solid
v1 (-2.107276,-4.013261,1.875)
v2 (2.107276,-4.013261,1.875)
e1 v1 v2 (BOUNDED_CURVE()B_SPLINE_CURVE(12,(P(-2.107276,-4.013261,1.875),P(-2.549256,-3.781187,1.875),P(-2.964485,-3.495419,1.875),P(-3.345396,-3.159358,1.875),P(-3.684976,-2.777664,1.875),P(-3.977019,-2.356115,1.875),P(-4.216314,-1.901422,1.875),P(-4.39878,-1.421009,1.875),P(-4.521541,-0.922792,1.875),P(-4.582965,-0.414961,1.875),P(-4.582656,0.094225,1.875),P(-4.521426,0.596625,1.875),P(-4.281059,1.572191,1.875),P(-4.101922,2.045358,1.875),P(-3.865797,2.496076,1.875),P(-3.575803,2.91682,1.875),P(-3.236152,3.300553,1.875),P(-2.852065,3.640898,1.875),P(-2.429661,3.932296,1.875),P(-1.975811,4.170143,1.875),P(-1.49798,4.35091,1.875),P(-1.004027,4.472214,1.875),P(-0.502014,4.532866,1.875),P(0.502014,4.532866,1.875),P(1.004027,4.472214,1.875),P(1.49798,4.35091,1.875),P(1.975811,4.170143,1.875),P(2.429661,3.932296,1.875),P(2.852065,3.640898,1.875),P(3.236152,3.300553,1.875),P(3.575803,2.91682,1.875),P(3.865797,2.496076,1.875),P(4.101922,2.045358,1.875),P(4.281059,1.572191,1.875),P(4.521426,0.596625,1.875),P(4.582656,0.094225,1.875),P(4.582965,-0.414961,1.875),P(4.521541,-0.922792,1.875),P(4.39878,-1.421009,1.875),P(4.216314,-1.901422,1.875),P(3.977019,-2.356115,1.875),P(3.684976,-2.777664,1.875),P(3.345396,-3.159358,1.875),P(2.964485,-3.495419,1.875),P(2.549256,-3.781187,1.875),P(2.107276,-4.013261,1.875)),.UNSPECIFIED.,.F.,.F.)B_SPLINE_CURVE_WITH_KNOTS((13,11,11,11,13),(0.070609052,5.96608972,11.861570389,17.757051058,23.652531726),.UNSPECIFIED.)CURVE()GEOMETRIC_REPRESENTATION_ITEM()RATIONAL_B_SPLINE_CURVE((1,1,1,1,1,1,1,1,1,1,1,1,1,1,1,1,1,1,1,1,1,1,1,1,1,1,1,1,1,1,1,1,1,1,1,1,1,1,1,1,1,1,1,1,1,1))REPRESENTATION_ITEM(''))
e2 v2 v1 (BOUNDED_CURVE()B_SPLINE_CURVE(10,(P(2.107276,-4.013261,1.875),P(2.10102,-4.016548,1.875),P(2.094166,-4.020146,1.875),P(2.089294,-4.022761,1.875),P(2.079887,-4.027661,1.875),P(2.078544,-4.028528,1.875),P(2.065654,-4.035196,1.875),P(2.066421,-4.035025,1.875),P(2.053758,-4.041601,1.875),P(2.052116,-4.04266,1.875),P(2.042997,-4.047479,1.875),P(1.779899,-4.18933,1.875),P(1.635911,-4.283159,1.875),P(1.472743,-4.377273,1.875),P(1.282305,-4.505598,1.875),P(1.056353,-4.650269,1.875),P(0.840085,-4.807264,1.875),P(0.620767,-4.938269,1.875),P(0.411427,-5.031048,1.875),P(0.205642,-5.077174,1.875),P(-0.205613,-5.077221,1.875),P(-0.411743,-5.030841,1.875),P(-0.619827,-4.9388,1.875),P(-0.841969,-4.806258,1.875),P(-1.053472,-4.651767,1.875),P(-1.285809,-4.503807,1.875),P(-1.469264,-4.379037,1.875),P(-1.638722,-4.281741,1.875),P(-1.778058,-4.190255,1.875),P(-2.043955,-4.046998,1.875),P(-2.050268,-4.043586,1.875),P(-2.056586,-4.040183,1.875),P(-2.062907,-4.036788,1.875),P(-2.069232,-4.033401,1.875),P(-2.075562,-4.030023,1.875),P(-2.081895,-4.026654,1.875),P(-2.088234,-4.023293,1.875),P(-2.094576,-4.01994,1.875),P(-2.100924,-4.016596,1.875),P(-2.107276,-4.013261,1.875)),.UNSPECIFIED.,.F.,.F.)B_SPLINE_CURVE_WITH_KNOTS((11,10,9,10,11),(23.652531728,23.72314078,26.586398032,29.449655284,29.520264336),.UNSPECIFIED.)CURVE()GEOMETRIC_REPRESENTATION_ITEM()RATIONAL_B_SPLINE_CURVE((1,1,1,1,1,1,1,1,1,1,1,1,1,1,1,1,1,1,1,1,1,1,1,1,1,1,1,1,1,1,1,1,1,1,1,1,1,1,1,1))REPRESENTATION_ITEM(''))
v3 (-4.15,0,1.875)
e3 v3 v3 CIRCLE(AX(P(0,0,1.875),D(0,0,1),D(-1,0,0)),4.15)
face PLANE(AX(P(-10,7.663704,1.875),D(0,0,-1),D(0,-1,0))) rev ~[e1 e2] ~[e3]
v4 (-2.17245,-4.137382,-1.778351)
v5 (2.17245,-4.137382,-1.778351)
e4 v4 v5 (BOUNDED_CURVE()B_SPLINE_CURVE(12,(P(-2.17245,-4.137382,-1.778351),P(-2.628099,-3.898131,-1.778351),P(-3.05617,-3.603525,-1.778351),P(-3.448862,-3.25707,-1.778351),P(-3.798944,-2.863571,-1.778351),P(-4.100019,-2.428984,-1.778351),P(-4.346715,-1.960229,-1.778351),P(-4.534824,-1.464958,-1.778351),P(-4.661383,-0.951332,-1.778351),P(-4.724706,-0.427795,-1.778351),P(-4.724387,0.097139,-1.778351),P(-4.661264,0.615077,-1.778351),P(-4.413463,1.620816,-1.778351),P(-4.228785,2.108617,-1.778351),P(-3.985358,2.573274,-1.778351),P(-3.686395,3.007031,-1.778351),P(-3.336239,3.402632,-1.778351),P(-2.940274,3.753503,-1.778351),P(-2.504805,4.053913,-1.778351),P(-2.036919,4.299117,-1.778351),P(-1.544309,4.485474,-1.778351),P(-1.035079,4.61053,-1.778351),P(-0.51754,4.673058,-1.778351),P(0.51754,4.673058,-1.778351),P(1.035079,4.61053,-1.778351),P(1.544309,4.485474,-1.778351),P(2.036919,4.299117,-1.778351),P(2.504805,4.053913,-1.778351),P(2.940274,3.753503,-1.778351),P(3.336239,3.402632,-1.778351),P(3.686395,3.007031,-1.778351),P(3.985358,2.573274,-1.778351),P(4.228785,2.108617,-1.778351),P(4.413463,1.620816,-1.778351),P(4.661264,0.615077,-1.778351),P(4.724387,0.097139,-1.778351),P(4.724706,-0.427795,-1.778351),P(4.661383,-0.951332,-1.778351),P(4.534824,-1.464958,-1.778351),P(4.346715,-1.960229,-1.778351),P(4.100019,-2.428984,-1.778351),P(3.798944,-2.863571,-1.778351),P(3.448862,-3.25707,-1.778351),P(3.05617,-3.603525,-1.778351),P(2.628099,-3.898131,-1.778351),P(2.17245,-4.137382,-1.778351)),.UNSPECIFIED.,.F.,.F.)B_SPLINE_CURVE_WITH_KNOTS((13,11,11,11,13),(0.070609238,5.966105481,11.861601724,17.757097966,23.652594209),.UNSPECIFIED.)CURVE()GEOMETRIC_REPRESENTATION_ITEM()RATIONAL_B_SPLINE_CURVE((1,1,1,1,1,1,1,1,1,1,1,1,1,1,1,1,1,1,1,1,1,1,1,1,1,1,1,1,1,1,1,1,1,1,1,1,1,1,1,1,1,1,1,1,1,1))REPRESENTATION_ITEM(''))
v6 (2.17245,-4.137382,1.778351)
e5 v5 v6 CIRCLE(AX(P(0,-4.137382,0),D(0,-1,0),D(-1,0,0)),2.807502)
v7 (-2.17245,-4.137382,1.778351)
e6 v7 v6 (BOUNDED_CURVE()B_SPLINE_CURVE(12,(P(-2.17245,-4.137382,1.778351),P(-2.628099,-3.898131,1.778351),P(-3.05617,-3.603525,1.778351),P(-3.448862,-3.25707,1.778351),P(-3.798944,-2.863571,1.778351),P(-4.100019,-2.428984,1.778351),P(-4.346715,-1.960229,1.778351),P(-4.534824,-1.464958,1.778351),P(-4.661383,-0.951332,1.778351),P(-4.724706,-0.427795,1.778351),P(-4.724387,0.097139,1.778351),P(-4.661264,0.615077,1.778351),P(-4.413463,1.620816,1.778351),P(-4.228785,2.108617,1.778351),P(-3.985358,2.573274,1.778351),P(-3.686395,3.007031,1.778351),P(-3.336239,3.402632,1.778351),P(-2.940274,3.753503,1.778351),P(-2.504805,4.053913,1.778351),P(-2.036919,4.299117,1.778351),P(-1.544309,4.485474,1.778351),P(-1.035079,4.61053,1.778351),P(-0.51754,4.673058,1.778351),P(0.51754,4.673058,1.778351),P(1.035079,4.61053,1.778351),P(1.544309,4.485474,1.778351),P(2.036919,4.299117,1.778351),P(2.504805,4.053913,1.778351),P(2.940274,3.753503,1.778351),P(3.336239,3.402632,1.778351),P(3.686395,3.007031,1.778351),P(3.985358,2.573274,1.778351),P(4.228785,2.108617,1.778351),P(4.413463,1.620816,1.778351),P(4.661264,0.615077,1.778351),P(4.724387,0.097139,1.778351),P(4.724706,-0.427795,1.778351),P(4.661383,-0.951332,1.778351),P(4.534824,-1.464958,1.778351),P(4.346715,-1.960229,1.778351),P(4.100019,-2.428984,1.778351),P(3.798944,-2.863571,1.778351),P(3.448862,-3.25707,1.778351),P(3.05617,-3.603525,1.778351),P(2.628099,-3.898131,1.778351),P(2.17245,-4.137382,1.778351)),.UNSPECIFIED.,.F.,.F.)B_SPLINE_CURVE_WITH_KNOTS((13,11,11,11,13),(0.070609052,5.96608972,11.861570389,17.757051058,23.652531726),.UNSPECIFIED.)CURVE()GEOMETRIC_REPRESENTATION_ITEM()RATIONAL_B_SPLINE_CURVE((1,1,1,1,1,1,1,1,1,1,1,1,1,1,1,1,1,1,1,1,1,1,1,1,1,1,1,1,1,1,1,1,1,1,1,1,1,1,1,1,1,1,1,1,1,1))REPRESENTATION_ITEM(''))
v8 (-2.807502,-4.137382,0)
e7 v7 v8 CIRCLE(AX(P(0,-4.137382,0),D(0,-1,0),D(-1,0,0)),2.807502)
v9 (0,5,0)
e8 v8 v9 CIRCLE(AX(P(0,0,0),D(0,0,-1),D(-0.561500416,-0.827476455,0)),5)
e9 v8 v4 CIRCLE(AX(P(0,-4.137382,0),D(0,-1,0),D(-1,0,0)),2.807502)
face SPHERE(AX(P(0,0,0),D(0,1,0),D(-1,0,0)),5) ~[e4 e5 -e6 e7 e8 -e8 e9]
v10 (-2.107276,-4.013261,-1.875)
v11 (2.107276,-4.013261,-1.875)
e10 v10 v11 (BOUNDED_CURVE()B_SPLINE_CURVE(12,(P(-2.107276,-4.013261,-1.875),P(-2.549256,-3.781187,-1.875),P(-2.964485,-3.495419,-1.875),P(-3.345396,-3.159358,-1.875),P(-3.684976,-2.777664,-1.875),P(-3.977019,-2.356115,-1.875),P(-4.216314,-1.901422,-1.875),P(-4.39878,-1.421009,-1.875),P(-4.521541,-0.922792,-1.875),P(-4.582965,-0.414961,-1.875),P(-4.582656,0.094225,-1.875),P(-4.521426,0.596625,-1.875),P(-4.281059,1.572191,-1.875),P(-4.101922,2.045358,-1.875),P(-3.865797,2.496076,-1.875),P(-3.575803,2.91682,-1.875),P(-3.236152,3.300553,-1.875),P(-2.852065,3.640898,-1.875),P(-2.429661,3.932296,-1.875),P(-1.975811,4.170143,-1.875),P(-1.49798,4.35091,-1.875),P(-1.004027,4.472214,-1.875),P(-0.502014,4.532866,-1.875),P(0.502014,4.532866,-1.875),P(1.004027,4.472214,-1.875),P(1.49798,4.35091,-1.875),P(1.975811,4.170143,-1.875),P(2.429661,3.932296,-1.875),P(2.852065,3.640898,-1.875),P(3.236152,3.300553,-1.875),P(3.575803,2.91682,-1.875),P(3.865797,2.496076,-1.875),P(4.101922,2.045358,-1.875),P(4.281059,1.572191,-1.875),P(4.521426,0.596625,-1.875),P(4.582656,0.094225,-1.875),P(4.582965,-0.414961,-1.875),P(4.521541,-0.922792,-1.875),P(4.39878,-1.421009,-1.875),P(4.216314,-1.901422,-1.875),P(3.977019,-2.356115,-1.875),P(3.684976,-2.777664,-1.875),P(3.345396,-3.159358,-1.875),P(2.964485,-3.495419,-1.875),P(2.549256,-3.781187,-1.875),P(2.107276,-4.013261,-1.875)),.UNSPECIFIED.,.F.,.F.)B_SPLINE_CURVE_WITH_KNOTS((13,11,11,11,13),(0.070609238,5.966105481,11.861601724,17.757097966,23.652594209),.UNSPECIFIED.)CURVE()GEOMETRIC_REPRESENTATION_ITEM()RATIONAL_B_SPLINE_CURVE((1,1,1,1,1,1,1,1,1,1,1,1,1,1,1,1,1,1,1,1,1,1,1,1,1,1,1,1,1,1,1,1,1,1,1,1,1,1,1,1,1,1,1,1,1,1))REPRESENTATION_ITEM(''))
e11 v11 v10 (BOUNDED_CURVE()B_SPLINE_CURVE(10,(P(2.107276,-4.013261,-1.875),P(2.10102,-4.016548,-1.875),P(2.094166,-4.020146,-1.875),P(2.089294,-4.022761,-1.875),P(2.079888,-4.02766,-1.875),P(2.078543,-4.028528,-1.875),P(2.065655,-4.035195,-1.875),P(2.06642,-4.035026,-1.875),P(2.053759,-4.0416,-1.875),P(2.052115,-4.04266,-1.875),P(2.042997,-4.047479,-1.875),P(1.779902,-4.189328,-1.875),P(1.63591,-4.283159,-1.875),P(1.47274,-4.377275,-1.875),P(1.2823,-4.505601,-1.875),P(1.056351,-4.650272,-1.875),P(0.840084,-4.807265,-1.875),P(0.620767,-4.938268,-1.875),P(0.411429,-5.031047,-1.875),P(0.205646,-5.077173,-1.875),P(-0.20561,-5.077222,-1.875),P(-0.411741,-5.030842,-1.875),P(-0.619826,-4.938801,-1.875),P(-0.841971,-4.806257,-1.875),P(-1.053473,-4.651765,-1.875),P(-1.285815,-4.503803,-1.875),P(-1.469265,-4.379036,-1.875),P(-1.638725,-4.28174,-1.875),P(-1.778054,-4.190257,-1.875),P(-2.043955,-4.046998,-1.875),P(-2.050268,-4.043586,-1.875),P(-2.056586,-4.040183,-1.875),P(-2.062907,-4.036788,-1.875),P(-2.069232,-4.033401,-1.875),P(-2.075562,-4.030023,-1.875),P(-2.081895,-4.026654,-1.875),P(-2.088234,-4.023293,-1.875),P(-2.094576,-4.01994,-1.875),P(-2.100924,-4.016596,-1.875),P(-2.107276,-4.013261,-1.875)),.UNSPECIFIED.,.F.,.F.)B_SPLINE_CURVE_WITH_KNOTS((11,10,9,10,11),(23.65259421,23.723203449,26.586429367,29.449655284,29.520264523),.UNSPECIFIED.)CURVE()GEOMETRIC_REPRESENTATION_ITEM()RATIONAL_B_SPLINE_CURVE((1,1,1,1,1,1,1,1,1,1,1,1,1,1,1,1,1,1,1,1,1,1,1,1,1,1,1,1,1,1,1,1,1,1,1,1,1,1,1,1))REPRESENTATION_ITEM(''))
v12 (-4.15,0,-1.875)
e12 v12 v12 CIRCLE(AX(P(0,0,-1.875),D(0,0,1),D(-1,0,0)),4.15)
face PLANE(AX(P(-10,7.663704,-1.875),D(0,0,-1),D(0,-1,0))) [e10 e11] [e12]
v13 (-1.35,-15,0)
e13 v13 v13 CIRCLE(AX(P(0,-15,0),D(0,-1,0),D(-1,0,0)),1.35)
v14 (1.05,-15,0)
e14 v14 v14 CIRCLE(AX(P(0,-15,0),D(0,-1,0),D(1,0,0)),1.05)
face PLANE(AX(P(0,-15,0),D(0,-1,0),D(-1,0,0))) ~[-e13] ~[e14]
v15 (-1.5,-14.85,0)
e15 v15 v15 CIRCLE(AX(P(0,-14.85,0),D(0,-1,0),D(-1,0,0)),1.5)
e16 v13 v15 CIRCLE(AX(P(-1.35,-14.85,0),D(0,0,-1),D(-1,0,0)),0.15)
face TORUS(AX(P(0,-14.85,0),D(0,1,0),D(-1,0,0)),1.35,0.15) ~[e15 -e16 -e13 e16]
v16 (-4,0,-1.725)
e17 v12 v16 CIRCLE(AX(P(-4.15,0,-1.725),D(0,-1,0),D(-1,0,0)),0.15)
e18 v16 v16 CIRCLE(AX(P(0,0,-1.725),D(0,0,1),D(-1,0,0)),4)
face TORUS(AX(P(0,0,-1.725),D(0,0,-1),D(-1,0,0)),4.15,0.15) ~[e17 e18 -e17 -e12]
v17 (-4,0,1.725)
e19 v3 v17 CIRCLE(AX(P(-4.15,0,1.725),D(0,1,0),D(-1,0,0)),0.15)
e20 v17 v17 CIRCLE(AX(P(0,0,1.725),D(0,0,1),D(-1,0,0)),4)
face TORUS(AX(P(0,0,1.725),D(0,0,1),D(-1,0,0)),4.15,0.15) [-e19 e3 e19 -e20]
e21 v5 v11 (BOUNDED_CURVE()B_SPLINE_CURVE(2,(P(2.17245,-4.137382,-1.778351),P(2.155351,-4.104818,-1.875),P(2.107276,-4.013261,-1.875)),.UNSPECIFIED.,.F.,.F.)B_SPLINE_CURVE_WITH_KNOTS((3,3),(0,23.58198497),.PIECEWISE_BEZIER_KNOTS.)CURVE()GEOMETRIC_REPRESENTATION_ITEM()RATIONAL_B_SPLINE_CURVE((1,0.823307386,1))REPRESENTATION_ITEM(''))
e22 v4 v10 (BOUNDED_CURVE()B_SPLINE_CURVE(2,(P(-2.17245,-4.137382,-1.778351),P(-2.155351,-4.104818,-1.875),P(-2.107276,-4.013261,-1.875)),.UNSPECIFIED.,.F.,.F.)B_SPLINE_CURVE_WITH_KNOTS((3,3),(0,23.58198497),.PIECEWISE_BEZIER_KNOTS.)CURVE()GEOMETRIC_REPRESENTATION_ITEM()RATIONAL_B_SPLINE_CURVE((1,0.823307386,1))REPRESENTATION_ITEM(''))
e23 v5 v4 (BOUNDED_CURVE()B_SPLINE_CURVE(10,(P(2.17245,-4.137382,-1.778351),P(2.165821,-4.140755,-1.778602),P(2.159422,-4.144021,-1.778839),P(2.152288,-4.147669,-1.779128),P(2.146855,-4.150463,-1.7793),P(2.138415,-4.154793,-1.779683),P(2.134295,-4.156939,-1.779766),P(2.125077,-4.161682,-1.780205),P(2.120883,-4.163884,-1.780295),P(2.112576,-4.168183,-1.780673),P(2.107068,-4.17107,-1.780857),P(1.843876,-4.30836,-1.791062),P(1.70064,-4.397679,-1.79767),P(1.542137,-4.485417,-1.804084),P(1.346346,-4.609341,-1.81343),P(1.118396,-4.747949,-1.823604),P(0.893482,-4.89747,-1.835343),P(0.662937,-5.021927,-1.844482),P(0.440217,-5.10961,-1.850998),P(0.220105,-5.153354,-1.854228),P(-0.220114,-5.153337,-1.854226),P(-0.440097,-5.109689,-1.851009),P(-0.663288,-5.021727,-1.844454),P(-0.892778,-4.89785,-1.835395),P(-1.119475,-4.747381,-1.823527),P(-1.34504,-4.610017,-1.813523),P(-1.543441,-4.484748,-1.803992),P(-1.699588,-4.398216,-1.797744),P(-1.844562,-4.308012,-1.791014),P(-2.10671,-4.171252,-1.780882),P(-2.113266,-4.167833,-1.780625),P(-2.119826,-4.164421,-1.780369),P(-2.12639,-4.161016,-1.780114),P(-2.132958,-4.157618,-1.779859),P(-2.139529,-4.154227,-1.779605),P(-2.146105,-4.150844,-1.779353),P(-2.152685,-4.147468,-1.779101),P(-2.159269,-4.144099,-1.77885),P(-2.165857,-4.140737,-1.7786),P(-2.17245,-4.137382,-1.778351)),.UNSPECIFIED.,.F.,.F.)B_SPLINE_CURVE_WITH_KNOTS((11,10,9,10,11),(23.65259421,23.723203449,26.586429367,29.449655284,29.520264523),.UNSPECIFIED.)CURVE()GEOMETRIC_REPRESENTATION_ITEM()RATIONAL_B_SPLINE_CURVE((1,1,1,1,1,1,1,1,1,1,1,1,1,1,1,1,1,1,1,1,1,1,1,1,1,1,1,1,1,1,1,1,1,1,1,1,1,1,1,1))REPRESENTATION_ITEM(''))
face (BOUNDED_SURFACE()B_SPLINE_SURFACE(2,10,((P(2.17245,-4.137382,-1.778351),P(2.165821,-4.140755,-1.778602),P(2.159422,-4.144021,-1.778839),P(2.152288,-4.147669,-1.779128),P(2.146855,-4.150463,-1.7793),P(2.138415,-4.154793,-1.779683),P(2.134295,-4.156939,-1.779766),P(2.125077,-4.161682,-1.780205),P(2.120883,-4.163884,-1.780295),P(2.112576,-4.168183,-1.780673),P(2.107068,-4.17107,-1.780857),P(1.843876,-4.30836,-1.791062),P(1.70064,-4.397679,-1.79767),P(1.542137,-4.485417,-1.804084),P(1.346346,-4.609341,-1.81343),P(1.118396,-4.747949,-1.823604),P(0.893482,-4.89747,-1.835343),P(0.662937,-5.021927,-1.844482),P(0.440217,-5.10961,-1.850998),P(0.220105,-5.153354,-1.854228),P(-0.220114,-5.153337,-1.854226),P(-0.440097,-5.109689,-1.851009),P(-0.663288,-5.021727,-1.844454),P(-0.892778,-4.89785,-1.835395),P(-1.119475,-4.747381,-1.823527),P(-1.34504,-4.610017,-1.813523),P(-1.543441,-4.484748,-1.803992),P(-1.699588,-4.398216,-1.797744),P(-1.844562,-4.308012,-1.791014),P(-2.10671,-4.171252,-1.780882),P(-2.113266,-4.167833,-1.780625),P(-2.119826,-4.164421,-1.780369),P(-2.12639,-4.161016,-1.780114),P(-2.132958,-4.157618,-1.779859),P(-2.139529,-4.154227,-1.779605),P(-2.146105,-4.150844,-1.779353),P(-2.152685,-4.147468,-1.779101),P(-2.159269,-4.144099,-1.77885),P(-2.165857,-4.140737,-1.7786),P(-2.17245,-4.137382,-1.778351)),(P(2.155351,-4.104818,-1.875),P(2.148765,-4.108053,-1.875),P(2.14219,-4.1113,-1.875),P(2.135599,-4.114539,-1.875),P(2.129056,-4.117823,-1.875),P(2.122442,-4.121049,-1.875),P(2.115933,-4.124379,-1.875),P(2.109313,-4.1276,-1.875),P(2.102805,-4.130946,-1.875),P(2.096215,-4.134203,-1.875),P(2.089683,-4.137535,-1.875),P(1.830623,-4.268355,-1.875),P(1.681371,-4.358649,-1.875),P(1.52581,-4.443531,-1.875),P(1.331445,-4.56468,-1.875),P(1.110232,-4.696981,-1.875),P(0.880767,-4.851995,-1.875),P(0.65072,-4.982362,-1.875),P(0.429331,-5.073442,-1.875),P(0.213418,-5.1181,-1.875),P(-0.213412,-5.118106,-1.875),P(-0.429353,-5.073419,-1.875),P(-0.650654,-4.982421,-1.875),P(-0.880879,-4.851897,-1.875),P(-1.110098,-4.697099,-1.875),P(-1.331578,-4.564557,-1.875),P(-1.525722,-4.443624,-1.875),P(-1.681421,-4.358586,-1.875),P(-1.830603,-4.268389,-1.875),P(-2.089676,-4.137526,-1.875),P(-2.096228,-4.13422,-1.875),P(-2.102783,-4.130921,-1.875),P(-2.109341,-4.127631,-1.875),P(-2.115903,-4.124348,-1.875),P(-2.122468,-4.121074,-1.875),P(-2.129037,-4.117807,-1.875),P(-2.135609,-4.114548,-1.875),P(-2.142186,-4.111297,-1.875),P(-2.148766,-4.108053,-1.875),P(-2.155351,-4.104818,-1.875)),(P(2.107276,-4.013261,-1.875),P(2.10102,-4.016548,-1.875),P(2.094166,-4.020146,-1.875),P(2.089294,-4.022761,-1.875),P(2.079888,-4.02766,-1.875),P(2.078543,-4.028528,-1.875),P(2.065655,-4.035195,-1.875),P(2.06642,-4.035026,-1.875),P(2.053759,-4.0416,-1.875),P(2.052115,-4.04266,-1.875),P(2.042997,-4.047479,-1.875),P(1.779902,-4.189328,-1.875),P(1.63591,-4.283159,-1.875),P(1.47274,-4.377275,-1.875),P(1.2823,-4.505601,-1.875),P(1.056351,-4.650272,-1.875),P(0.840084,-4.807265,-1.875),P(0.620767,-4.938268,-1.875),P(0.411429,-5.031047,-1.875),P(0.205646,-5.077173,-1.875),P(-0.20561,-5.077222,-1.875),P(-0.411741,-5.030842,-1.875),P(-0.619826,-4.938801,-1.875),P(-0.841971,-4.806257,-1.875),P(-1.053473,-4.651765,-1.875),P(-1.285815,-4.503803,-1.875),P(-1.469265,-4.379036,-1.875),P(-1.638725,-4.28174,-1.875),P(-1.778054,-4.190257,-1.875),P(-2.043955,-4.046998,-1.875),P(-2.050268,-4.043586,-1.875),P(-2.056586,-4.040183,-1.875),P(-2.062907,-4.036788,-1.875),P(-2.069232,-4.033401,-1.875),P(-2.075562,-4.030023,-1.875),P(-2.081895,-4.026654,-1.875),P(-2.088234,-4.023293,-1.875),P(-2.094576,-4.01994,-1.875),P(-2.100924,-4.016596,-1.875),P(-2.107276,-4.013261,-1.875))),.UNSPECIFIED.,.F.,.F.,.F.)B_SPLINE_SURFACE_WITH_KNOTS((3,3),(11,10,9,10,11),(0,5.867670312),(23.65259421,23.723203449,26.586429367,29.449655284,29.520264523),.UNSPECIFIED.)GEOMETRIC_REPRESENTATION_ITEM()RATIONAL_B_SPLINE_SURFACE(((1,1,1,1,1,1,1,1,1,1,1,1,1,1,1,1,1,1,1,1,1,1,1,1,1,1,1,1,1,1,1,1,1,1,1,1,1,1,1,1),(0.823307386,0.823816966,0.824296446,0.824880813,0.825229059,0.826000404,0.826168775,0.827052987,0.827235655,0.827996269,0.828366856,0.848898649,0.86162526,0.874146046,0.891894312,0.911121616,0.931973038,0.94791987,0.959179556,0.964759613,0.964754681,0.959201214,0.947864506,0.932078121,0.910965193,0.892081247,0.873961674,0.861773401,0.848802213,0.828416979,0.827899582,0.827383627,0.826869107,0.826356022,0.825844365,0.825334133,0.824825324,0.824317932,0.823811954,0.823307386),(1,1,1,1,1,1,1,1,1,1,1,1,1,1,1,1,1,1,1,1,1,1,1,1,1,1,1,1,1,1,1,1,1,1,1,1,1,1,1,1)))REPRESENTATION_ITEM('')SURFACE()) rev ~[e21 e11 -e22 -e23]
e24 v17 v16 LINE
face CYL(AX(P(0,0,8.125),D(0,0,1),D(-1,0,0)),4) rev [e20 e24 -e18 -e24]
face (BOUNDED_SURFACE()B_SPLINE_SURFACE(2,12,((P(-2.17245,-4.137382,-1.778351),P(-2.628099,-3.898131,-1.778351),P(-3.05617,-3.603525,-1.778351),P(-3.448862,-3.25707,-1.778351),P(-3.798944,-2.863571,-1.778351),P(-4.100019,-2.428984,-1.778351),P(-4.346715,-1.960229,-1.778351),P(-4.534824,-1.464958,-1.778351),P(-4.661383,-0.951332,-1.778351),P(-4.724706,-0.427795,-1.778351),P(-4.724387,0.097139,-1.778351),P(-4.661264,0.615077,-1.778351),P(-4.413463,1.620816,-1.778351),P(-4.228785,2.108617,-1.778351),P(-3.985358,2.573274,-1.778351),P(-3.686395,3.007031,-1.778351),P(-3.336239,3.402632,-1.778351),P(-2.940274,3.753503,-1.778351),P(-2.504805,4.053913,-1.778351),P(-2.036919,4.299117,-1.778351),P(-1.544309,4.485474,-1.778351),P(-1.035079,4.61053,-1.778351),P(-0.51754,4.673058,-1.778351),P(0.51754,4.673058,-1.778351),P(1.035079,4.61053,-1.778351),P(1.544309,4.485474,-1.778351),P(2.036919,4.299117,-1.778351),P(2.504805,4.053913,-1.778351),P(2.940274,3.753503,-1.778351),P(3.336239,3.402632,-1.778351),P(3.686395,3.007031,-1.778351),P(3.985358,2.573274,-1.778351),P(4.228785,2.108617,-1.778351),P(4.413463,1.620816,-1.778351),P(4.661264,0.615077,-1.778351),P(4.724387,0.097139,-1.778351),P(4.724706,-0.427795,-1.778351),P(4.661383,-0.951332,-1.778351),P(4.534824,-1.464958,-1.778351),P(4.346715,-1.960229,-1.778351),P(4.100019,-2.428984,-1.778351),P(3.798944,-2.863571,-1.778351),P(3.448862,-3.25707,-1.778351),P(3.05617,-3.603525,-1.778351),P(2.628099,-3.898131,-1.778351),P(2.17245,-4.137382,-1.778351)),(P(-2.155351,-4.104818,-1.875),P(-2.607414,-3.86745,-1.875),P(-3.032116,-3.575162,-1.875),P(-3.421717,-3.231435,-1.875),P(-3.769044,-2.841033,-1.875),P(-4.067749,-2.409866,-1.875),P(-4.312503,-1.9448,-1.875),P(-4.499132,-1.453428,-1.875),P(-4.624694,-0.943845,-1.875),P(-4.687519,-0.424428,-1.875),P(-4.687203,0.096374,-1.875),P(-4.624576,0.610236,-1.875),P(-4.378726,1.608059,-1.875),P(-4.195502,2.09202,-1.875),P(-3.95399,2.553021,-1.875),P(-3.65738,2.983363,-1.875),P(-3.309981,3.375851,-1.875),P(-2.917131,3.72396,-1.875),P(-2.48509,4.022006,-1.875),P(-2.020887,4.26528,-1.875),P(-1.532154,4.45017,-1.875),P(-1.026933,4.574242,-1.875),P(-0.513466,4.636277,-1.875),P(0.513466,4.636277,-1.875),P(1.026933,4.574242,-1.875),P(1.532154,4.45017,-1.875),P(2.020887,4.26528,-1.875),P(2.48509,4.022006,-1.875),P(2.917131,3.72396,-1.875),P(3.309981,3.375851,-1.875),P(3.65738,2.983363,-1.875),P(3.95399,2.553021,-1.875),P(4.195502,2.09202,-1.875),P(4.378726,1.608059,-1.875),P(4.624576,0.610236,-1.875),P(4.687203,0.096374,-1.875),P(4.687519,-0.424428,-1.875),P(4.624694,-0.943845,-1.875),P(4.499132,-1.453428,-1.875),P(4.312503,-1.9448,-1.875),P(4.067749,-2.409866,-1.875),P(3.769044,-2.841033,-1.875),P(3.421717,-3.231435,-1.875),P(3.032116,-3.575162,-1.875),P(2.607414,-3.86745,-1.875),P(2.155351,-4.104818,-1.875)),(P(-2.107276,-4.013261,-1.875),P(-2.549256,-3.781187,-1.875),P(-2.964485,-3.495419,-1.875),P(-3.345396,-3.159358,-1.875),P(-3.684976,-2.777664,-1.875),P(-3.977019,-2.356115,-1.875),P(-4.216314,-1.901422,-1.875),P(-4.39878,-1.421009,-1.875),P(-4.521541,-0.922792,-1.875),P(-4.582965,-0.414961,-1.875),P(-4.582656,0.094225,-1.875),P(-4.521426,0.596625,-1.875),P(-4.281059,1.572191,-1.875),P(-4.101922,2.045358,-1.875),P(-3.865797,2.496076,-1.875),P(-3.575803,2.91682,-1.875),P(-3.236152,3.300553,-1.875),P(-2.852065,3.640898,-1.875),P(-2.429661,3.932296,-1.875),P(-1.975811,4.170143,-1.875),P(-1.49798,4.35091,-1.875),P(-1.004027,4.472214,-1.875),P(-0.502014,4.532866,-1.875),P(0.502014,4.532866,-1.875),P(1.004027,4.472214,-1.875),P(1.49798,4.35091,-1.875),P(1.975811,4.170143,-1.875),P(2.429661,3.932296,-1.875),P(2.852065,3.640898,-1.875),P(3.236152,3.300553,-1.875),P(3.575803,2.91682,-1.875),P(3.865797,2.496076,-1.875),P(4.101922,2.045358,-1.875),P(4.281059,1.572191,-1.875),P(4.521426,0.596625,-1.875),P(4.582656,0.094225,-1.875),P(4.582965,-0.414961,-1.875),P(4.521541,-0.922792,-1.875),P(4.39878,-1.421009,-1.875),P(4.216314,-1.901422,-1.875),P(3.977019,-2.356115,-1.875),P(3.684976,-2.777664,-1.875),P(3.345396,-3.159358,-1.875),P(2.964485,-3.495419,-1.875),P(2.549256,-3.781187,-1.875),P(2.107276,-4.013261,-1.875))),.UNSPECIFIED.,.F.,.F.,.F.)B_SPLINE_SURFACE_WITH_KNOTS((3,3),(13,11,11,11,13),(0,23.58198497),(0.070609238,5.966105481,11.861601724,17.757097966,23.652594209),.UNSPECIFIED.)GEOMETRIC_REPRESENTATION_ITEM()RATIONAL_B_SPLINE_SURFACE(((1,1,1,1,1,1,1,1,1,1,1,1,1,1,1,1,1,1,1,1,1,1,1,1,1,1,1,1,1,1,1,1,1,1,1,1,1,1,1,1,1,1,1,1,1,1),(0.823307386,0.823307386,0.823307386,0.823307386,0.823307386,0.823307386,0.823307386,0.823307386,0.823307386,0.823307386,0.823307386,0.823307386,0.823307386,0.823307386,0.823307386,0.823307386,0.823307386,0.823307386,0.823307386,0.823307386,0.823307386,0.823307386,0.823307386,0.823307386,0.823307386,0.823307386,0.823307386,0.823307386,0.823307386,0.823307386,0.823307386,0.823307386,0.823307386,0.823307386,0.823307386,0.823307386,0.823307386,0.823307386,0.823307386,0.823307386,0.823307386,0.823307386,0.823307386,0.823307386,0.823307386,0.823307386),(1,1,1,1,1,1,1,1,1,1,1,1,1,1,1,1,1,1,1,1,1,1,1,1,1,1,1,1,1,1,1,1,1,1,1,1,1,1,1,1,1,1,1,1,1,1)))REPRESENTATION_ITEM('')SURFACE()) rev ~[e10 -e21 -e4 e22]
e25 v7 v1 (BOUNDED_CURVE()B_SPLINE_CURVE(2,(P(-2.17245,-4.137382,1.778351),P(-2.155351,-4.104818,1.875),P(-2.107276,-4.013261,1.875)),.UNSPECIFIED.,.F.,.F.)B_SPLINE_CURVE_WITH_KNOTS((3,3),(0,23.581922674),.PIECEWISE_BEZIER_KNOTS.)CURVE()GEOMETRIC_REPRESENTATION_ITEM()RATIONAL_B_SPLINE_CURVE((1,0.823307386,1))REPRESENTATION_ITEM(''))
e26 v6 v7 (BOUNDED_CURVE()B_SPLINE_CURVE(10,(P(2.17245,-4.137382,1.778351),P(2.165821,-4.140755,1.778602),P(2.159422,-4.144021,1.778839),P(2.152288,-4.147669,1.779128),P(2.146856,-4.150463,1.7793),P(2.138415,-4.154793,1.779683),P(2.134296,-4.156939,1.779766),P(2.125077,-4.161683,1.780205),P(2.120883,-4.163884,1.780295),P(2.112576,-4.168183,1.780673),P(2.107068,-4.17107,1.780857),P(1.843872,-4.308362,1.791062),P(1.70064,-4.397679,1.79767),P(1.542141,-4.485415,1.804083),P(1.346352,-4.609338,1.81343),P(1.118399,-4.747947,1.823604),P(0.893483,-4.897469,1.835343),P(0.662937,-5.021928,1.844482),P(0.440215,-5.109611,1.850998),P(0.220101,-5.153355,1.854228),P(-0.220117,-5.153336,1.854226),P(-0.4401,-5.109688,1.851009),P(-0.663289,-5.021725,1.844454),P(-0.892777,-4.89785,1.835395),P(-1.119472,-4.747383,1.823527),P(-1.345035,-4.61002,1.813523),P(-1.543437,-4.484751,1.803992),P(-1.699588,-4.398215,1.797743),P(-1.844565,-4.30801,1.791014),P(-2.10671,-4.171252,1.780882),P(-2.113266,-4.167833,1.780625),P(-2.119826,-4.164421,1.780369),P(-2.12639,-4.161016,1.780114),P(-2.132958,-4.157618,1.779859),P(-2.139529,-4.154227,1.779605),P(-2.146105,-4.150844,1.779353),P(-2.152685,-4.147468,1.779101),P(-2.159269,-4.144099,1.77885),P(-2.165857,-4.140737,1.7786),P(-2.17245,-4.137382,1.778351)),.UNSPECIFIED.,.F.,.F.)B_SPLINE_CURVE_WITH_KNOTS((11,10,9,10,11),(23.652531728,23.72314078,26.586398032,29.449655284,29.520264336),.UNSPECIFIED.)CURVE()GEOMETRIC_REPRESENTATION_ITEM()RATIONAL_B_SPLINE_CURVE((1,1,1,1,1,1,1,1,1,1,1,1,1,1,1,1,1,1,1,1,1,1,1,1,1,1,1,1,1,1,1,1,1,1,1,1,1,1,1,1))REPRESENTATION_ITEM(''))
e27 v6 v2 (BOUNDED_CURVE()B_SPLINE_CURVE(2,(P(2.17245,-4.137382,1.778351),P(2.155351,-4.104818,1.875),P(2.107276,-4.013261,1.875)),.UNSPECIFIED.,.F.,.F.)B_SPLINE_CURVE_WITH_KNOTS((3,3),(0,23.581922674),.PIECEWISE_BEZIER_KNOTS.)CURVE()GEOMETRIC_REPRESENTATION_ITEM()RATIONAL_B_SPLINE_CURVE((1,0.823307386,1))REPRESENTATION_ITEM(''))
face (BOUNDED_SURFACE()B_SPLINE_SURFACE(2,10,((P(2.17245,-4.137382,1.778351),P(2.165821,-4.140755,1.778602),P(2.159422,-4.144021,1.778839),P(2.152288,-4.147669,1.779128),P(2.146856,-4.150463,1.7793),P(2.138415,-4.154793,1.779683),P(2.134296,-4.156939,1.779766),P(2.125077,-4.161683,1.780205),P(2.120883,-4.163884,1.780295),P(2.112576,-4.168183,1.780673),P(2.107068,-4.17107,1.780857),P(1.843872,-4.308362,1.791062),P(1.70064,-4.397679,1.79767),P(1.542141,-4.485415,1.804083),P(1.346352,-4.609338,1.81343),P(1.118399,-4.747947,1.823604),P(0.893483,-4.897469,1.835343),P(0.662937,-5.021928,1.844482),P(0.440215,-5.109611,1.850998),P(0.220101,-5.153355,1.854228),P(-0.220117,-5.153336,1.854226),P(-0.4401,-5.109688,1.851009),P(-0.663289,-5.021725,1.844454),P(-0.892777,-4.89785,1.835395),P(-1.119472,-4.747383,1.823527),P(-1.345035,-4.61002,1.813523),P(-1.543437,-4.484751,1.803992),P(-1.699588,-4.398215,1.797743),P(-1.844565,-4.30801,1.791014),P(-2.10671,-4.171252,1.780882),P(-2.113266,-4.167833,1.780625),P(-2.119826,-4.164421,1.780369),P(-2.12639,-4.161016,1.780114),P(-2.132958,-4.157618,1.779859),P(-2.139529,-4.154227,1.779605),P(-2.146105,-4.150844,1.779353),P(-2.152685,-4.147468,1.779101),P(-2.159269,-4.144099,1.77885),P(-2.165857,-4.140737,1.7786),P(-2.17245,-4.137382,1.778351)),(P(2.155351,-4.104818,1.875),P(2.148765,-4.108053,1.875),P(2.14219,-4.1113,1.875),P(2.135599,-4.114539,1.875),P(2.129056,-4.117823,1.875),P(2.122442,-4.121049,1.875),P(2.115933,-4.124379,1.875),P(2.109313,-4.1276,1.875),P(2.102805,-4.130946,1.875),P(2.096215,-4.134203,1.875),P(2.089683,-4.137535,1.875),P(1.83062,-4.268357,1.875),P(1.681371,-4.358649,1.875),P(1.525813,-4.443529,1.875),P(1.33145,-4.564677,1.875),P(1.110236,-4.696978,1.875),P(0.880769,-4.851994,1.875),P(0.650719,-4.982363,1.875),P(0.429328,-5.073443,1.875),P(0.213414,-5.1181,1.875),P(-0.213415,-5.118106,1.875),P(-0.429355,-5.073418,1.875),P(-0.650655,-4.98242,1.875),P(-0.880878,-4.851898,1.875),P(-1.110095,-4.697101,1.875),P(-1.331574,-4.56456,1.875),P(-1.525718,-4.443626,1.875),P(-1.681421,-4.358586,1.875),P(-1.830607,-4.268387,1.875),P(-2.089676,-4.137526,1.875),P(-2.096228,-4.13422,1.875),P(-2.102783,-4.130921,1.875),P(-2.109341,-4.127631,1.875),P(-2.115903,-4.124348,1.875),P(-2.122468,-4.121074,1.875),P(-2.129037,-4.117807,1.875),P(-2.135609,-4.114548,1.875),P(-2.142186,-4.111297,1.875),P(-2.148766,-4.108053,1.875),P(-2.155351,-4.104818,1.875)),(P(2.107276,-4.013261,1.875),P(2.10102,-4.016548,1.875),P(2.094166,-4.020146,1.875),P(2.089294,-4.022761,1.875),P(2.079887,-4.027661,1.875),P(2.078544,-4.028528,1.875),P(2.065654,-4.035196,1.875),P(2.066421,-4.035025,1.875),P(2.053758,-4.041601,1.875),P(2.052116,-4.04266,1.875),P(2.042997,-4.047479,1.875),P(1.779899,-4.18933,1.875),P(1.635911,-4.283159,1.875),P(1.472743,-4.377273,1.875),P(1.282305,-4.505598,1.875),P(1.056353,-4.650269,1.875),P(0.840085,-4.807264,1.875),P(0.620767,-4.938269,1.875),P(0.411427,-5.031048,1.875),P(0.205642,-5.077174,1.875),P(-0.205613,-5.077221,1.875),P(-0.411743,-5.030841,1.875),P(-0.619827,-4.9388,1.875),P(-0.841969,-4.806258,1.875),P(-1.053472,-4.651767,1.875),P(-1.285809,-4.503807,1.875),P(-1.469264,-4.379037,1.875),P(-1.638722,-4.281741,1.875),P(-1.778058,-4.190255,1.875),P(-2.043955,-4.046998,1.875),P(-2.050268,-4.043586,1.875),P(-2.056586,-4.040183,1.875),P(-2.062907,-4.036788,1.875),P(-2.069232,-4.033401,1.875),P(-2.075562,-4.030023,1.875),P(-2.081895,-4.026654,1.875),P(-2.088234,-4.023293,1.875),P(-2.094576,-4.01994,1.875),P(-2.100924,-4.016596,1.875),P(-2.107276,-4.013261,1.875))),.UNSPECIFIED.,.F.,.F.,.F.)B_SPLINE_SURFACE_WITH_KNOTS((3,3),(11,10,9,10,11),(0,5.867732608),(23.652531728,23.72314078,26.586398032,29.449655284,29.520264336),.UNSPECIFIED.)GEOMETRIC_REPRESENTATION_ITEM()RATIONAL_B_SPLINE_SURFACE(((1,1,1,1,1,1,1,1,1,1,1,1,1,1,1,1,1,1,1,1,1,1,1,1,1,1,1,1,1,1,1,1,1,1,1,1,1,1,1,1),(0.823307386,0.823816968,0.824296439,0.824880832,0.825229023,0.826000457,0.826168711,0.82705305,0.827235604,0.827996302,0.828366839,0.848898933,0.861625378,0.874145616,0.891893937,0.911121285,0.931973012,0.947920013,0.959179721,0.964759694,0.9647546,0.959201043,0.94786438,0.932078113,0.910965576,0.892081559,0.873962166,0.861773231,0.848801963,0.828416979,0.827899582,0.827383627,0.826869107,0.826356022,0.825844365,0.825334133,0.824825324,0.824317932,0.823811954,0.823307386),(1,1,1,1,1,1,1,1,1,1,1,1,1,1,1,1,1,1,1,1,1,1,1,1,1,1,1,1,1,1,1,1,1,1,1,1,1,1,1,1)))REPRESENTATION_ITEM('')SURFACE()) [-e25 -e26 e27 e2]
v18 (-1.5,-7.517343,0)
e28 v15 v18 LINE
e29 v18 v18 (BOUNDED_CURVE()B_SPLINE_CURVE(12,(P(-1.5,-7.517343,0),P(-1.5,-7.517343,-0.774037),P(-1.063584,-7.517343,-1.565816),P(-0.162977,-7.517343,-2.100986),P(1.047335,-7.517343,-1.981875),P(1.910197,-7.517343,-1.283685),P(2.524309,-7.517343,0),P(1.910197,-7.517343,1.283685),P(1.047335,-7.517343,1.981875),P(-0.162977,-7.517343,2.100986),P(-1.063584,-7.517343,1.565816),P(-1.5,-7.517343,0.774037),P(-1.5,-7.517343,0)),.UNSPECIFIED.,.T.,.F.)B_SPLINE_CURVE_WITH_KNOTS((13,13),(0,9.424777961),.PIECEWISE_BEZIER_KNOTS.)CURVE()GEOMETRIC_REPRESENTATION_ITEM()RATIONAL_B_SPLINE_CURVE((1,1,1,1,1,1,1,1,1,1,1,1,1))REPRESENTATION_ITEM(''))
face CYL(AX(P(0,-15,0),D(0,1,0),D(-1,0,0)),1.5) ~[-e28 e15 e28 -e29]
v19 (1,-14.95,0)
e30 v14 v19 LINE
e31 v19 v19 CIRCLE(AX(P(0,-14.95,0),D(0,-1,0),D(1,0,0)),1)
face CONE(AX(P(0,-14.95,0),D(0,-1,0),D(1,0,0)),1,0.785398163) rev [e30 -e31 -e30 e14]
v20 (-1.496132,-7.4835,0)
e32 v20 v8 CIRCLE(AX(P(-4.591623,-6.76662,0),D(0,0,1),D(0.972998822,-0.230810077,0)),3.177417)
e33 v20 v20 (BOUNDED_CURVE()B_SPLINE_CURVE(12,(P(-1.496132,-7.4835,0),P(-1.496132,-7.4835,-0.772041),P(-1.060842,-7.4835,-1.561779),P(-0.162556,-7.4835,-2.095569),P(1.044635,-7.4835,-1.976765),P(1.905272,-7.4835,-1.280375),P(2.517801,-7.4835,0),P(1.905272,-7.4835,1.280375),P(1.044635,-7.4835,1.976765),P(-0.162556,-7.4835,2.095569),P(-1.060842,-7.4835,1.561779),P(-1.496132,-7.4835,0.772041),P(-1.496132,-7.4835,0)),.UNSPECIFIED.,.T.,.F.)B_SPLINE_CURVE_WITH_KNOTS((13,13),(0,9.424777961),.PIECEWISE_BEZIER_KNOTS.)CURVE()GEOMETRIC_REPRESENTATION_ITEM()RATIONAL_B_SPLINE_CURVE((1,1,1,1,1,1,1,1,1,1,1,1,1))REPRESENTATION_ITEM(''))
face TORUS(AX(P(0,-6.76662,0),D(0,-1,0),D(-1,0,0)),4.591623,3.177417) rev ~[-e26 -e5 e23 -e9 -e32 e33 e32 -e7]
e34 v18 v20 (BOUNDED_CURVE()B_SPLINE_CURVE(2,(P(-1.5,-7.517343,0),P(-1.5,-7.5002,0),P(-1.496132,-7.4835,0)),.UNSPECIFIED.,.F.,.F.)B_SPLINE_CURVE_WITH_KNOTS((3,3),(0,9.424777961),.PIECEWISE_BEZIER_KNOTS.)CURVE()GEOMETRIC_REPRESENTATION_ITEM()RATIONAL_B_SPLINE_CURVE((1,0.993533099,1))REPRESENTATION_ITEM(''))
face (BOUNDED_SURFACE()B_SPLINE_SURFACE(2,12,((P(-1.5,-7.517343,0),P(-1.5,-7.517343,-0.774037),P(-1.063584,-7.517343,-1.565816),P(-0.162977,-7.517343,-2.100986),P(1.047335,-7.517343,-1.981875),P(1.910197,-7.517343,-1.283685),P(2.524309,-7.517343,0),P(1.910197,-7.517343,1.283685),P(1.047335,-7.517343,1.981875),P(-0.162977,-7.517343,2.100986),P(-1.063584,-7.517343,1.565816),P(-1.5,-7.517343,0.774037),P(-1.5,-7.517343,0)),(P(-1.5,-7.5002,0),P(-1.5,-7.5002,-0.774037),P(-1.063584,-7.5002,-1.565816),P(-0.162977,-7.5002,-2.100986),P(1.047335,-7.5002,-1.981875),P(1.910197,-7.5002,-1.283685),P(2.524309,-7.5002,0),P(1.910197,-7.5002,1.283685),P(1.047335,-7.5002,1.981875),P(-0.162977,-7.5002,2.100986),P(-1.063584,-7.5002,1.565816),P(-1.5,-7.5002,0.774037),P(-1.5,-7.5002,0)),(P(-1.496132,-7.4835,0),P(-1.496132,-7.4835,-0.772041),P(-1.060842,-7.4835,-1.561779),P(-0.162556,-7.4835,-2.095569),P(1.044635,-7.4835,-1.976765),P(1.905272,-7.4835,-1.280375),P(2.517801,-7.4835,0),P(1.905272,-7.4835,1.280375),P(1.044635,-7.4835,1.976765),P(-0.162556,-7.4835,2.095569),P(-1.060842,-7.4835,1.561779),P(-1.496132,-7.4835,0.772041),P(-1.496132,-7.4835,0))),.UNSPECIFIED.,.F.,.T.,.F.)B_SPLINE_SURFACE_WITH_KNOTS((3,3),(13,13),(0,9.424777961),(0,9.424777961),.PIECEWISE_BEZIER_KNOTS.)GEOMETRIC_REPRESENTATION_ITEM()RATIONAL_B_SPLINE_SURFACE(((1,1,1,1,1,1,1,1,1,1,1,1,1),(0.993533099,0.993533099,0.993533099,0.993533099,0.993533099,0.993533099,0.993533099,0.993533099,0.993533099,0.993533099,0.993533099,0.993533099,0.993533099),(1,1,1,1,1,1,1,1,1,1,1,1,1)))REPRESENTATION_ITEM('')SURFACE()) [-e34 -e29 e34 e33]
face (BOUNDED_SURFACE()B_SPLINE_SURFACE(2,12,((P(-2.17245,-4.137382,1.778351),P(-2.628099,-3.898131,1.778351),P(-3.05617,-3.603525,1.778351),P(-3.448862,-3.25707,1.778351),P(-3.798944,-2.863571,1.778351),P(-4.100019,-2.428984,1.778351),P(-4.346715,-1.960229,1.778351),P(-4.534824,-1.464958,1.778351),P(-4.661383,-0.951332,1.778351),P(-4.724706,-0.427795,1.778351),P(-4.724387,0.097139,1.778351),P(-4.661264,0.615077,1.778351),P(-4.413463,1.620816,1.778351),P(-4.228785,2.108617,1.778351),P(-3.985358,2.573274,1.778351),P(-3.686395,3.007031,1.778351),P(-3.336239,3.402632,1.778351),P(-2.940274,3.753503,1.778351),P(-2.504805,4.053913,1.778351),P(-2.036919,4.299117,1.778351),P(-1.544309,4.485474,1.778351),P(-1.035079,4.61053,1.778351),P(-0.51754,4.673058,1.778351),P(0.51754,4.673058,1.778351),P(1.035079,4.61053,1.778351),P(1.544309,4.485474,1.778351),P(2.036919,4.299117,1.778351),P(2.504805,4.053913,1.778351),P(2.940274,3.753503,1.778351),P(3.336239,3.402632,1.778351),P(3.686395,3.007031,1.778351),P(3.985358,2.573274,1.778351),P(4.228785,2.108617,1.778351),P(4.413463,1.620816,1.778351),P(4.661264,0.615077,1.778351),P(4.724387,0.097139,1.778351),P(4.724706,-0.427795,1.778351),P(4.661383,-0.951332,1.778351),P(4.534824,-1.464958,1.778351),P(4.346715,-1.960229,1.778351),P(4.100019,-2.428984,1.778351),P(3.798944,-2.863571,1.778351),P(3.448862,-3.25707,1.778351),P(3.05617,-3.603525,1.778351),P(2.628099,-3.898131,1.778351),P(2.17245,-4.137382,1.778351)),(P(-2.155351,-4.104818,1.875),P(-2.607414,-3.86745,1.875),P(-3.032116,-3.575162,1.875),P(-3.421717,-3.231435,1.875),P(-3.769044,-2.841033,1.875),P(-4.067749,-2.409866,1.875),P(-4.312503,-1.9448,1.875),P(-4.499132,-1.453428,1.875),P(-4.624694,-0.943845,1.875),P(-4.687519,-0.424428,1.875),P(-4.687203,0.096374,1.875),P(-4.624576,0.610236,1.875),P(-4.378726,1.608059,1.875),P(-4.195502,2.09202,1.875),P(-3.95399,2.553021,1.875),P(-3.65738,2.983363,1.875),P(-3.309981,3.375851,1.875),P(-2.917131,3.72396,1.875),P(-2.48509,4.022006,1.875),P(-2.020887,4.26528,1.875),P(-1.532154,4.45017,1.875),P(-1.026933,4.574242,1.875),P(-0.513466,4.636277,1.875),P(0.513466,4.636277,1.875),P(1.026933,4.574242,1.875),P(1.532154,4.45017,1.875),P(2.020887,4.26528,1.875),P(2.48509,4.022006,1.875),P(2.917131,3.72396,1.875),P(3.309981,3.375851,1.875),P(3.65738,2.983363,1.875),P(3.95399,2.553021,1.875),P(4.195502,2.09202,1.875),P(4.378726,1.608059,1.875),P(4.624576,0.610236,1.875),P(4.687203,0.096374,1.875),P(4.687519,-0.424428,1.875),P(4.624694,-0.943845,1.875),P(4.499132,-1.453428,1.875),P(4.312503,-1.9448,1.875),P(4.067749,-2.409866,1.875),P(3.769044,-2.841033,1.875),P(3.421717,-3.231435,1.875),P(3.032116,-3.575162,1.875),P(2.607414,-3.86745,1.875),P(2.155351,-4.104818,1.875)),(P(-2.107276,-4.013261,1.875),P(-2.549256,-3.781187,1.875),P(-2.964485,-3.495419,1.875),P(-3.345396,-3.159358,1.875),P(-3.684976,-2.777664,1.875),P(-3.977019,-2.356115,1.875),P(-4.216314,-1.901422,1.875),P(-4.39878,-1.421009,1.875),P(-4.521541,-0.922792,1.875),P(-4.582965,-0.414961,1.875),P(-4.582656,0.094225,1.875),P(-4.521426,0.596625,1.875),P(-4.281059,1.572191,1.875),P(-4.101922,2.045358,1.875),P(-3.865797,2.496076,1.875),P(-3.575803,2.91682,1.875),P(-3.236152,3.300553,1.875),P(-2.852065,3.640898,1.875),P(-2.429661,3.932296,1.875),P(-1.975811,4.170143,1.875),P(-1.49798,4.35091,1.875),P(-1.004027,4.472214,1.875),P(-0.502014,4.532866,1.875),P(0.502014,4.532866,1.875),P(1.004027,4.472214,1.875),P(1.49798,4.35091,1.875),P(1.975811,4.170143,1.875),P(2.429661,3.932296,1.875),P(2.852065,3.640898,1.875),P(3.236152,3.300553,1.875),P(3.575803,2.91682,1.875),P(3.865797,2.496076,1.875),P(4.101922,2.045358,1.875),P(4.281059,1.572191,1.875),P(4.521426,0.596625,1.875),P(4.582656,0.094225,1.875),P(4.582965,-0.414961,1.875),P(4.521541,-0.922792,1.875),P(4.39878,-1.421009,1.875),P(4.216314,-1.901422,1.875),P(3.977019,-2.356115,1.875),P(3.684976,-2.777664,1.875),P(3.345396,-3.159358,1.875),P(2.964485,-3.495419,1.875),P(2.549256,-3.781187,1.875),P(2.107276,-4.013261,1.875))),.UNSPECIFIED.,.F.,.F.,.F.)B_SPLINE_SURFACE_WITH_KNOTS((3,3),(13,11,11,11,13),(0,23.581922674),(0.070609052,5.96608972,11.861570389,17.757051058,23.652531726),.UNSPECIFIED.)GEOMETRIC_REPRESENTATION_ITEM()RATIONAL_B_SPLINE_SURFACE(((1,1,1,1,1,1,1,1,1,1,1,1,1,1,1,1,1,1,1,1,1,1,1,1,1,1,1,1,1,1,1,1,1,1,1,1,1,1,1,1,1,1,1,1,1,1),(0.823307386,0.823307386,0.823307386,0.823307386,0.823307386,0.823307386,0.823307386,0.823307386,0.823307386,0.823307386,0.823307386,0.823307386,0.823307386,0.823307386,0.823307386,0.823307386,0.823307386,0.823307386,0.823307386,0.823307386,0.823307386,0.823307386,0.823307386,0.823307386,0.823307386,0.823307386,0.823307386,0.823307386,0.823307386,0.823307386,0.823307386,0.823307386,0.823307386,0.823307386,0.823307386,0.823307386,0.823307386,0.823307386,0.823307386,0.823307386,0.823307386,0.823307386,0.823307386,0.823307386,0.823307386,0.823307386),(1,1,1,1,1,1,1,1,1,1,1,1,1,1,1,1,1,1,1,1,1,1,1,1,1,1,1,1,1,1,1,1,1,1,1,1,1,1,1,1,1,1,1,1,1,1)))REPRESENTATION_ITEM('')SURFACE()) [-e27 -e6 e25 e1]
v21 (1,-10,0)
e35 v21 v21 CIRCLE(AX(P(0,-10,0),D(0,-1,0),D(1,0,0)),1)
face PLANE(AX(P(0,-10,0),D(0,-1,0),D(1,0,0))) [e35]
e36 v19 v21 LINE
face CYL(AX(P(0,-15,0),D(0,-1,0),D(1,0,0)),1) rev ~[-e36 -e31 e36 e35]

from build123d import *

# Parameters (mm, degrees)
CUT_EXTRUDE1_DEPTH      = 10
CUT_EXTRUDE1_DEPTH_BACK = 10
CUT_EXTRUDE2_DEPTH      = 10
CUT_EXTRUDE2_DEPTH_BACK = 10
SKETCH4_R               = 4
FILLET1_R               = 0.15
SKETCH5_R               = 1
CUT_EXTRUDE3_DEPTH      = 5
CHAMFER1_SIZE           = 0.05


with BuildPart() as part:
    # Sketch2 → Revolve1 (revolve)
    with BuildSketch(Plane.XY):
        with BuildLine():
            Line((0, 5), (0, -15))
            Line((0, -15), (-1.5, -15))
            Line((-1.5, -15), (-1.5, -7.5))
            ThreePointArc((-1.5, -7.5), (-1.630201198, -5.615116851), (-2.807502077, -4.137382275))
            ThreePointArc((-2.807502077, -4.137382275), (-4.779482784, 1.468517726), (0, 5))
        make_face()
    revolve(axis=Axis((0, 5, 0), (0, -1, 0)))

    # Sketch3 → Cut-Extrude1 (cut, two sides: drawn at the far end of the back side and taken through both)
    with BuildSketch(Plane(origin=(0, 0, 0), x_dir=(0, 0, -1), z_dir=(1, 0, 0)).offset(-CUT_EXTRUDE1_DEPTH_BACK)):
        with BuildLine():
            Line((10.828047963, -19.615541135), (10.828047963, 7.663704163))
            Line((10.828047963, 7.663704163), (1.875, 7.663704163))
            Line((1.875, 7.663704163), (1.875, -5.252769588))
            ThreePointArc((1.875, -5.252769588), (2.106415246, -6.756298585), (2.779239779, -8.120651769))
            Line((2.779239779, -8.120651769), (10.828047963, -19.615541135))
        make_face()
        with BuildLine():
            Line((-2.779239779, -8.120651769), (-10.828047963, -19.615541135))
            Line((-10.828047963, -19.615541135), (-10.828047963, 7.663704163))
            Line((-10.828047963, 7.663704163), (-1.875, 7.663704163))
            Line((-1.875, 7.663704163), (-1.875, -5.252769588))
            ThreePointArc((-1.875, -5.252769588), (-2.106415246, -6.756298585), (-2.779239779, -8.120651769))
        make_face()
    extrude(amount=CUT_EXTRUDE1_DEPTH + CUT_EXTRUDE1_DEPTH_BACK, mode=Mode.SUBTRACT)

    # Sketch4 → Cut-Extrude2 (cut, two sides: drawn at the far end of the back side and taken through both)
    with BuildSketch(Plane(origin=(0, 0, -1.875), x_dir=(-1, 0, 0), z_dir=(0, 0, -1)).offset(-CUT_EXTRUDE2_DEPTH_BACK)):
        Circle(SKETCH4_R)
    extrude(amount=CUT_EXTRUDE2_DEPTH + CUT_EXTRUDE2_DEPTH_BACK, mode=Mode.SUBTRACT)

    # Fillet1
    fillet1_edges = [part.edges().sort_by_distance(p)[0] for p in [
        (4, 0, 1.875),
        (4, 0, -1.875),
        (0, 4.635124054, 1.875),
        (0, 4.635124054, -1.875),
        (1.5, -15, 0),
        (1.5, -7.5, 0),
        (1.5, -7.5, 0),
        (1.5, -7.5, 0),
    ]]
    fillet(fillet1_edges, radius=FILLET1_R)

    # Sketch5 → Cut-Extrude3 (cut)
    with BuildSketch(Plane.XZ.offset(15)):
        Circle(SKETCH5_R)
    extrude(amount=-CUT_EXTRUDE3_DEPTH, mode=Mode.SUBTRACT)

    # Chamfer1
    chamfer1_edges = [part.edges().sort_by_distance(p)[0] for p in [
        (-1, -15, 0),
    ]]
    chamfer(chamfer1_edges, length=CHAMFER1_SIZE)


solid = part.part
